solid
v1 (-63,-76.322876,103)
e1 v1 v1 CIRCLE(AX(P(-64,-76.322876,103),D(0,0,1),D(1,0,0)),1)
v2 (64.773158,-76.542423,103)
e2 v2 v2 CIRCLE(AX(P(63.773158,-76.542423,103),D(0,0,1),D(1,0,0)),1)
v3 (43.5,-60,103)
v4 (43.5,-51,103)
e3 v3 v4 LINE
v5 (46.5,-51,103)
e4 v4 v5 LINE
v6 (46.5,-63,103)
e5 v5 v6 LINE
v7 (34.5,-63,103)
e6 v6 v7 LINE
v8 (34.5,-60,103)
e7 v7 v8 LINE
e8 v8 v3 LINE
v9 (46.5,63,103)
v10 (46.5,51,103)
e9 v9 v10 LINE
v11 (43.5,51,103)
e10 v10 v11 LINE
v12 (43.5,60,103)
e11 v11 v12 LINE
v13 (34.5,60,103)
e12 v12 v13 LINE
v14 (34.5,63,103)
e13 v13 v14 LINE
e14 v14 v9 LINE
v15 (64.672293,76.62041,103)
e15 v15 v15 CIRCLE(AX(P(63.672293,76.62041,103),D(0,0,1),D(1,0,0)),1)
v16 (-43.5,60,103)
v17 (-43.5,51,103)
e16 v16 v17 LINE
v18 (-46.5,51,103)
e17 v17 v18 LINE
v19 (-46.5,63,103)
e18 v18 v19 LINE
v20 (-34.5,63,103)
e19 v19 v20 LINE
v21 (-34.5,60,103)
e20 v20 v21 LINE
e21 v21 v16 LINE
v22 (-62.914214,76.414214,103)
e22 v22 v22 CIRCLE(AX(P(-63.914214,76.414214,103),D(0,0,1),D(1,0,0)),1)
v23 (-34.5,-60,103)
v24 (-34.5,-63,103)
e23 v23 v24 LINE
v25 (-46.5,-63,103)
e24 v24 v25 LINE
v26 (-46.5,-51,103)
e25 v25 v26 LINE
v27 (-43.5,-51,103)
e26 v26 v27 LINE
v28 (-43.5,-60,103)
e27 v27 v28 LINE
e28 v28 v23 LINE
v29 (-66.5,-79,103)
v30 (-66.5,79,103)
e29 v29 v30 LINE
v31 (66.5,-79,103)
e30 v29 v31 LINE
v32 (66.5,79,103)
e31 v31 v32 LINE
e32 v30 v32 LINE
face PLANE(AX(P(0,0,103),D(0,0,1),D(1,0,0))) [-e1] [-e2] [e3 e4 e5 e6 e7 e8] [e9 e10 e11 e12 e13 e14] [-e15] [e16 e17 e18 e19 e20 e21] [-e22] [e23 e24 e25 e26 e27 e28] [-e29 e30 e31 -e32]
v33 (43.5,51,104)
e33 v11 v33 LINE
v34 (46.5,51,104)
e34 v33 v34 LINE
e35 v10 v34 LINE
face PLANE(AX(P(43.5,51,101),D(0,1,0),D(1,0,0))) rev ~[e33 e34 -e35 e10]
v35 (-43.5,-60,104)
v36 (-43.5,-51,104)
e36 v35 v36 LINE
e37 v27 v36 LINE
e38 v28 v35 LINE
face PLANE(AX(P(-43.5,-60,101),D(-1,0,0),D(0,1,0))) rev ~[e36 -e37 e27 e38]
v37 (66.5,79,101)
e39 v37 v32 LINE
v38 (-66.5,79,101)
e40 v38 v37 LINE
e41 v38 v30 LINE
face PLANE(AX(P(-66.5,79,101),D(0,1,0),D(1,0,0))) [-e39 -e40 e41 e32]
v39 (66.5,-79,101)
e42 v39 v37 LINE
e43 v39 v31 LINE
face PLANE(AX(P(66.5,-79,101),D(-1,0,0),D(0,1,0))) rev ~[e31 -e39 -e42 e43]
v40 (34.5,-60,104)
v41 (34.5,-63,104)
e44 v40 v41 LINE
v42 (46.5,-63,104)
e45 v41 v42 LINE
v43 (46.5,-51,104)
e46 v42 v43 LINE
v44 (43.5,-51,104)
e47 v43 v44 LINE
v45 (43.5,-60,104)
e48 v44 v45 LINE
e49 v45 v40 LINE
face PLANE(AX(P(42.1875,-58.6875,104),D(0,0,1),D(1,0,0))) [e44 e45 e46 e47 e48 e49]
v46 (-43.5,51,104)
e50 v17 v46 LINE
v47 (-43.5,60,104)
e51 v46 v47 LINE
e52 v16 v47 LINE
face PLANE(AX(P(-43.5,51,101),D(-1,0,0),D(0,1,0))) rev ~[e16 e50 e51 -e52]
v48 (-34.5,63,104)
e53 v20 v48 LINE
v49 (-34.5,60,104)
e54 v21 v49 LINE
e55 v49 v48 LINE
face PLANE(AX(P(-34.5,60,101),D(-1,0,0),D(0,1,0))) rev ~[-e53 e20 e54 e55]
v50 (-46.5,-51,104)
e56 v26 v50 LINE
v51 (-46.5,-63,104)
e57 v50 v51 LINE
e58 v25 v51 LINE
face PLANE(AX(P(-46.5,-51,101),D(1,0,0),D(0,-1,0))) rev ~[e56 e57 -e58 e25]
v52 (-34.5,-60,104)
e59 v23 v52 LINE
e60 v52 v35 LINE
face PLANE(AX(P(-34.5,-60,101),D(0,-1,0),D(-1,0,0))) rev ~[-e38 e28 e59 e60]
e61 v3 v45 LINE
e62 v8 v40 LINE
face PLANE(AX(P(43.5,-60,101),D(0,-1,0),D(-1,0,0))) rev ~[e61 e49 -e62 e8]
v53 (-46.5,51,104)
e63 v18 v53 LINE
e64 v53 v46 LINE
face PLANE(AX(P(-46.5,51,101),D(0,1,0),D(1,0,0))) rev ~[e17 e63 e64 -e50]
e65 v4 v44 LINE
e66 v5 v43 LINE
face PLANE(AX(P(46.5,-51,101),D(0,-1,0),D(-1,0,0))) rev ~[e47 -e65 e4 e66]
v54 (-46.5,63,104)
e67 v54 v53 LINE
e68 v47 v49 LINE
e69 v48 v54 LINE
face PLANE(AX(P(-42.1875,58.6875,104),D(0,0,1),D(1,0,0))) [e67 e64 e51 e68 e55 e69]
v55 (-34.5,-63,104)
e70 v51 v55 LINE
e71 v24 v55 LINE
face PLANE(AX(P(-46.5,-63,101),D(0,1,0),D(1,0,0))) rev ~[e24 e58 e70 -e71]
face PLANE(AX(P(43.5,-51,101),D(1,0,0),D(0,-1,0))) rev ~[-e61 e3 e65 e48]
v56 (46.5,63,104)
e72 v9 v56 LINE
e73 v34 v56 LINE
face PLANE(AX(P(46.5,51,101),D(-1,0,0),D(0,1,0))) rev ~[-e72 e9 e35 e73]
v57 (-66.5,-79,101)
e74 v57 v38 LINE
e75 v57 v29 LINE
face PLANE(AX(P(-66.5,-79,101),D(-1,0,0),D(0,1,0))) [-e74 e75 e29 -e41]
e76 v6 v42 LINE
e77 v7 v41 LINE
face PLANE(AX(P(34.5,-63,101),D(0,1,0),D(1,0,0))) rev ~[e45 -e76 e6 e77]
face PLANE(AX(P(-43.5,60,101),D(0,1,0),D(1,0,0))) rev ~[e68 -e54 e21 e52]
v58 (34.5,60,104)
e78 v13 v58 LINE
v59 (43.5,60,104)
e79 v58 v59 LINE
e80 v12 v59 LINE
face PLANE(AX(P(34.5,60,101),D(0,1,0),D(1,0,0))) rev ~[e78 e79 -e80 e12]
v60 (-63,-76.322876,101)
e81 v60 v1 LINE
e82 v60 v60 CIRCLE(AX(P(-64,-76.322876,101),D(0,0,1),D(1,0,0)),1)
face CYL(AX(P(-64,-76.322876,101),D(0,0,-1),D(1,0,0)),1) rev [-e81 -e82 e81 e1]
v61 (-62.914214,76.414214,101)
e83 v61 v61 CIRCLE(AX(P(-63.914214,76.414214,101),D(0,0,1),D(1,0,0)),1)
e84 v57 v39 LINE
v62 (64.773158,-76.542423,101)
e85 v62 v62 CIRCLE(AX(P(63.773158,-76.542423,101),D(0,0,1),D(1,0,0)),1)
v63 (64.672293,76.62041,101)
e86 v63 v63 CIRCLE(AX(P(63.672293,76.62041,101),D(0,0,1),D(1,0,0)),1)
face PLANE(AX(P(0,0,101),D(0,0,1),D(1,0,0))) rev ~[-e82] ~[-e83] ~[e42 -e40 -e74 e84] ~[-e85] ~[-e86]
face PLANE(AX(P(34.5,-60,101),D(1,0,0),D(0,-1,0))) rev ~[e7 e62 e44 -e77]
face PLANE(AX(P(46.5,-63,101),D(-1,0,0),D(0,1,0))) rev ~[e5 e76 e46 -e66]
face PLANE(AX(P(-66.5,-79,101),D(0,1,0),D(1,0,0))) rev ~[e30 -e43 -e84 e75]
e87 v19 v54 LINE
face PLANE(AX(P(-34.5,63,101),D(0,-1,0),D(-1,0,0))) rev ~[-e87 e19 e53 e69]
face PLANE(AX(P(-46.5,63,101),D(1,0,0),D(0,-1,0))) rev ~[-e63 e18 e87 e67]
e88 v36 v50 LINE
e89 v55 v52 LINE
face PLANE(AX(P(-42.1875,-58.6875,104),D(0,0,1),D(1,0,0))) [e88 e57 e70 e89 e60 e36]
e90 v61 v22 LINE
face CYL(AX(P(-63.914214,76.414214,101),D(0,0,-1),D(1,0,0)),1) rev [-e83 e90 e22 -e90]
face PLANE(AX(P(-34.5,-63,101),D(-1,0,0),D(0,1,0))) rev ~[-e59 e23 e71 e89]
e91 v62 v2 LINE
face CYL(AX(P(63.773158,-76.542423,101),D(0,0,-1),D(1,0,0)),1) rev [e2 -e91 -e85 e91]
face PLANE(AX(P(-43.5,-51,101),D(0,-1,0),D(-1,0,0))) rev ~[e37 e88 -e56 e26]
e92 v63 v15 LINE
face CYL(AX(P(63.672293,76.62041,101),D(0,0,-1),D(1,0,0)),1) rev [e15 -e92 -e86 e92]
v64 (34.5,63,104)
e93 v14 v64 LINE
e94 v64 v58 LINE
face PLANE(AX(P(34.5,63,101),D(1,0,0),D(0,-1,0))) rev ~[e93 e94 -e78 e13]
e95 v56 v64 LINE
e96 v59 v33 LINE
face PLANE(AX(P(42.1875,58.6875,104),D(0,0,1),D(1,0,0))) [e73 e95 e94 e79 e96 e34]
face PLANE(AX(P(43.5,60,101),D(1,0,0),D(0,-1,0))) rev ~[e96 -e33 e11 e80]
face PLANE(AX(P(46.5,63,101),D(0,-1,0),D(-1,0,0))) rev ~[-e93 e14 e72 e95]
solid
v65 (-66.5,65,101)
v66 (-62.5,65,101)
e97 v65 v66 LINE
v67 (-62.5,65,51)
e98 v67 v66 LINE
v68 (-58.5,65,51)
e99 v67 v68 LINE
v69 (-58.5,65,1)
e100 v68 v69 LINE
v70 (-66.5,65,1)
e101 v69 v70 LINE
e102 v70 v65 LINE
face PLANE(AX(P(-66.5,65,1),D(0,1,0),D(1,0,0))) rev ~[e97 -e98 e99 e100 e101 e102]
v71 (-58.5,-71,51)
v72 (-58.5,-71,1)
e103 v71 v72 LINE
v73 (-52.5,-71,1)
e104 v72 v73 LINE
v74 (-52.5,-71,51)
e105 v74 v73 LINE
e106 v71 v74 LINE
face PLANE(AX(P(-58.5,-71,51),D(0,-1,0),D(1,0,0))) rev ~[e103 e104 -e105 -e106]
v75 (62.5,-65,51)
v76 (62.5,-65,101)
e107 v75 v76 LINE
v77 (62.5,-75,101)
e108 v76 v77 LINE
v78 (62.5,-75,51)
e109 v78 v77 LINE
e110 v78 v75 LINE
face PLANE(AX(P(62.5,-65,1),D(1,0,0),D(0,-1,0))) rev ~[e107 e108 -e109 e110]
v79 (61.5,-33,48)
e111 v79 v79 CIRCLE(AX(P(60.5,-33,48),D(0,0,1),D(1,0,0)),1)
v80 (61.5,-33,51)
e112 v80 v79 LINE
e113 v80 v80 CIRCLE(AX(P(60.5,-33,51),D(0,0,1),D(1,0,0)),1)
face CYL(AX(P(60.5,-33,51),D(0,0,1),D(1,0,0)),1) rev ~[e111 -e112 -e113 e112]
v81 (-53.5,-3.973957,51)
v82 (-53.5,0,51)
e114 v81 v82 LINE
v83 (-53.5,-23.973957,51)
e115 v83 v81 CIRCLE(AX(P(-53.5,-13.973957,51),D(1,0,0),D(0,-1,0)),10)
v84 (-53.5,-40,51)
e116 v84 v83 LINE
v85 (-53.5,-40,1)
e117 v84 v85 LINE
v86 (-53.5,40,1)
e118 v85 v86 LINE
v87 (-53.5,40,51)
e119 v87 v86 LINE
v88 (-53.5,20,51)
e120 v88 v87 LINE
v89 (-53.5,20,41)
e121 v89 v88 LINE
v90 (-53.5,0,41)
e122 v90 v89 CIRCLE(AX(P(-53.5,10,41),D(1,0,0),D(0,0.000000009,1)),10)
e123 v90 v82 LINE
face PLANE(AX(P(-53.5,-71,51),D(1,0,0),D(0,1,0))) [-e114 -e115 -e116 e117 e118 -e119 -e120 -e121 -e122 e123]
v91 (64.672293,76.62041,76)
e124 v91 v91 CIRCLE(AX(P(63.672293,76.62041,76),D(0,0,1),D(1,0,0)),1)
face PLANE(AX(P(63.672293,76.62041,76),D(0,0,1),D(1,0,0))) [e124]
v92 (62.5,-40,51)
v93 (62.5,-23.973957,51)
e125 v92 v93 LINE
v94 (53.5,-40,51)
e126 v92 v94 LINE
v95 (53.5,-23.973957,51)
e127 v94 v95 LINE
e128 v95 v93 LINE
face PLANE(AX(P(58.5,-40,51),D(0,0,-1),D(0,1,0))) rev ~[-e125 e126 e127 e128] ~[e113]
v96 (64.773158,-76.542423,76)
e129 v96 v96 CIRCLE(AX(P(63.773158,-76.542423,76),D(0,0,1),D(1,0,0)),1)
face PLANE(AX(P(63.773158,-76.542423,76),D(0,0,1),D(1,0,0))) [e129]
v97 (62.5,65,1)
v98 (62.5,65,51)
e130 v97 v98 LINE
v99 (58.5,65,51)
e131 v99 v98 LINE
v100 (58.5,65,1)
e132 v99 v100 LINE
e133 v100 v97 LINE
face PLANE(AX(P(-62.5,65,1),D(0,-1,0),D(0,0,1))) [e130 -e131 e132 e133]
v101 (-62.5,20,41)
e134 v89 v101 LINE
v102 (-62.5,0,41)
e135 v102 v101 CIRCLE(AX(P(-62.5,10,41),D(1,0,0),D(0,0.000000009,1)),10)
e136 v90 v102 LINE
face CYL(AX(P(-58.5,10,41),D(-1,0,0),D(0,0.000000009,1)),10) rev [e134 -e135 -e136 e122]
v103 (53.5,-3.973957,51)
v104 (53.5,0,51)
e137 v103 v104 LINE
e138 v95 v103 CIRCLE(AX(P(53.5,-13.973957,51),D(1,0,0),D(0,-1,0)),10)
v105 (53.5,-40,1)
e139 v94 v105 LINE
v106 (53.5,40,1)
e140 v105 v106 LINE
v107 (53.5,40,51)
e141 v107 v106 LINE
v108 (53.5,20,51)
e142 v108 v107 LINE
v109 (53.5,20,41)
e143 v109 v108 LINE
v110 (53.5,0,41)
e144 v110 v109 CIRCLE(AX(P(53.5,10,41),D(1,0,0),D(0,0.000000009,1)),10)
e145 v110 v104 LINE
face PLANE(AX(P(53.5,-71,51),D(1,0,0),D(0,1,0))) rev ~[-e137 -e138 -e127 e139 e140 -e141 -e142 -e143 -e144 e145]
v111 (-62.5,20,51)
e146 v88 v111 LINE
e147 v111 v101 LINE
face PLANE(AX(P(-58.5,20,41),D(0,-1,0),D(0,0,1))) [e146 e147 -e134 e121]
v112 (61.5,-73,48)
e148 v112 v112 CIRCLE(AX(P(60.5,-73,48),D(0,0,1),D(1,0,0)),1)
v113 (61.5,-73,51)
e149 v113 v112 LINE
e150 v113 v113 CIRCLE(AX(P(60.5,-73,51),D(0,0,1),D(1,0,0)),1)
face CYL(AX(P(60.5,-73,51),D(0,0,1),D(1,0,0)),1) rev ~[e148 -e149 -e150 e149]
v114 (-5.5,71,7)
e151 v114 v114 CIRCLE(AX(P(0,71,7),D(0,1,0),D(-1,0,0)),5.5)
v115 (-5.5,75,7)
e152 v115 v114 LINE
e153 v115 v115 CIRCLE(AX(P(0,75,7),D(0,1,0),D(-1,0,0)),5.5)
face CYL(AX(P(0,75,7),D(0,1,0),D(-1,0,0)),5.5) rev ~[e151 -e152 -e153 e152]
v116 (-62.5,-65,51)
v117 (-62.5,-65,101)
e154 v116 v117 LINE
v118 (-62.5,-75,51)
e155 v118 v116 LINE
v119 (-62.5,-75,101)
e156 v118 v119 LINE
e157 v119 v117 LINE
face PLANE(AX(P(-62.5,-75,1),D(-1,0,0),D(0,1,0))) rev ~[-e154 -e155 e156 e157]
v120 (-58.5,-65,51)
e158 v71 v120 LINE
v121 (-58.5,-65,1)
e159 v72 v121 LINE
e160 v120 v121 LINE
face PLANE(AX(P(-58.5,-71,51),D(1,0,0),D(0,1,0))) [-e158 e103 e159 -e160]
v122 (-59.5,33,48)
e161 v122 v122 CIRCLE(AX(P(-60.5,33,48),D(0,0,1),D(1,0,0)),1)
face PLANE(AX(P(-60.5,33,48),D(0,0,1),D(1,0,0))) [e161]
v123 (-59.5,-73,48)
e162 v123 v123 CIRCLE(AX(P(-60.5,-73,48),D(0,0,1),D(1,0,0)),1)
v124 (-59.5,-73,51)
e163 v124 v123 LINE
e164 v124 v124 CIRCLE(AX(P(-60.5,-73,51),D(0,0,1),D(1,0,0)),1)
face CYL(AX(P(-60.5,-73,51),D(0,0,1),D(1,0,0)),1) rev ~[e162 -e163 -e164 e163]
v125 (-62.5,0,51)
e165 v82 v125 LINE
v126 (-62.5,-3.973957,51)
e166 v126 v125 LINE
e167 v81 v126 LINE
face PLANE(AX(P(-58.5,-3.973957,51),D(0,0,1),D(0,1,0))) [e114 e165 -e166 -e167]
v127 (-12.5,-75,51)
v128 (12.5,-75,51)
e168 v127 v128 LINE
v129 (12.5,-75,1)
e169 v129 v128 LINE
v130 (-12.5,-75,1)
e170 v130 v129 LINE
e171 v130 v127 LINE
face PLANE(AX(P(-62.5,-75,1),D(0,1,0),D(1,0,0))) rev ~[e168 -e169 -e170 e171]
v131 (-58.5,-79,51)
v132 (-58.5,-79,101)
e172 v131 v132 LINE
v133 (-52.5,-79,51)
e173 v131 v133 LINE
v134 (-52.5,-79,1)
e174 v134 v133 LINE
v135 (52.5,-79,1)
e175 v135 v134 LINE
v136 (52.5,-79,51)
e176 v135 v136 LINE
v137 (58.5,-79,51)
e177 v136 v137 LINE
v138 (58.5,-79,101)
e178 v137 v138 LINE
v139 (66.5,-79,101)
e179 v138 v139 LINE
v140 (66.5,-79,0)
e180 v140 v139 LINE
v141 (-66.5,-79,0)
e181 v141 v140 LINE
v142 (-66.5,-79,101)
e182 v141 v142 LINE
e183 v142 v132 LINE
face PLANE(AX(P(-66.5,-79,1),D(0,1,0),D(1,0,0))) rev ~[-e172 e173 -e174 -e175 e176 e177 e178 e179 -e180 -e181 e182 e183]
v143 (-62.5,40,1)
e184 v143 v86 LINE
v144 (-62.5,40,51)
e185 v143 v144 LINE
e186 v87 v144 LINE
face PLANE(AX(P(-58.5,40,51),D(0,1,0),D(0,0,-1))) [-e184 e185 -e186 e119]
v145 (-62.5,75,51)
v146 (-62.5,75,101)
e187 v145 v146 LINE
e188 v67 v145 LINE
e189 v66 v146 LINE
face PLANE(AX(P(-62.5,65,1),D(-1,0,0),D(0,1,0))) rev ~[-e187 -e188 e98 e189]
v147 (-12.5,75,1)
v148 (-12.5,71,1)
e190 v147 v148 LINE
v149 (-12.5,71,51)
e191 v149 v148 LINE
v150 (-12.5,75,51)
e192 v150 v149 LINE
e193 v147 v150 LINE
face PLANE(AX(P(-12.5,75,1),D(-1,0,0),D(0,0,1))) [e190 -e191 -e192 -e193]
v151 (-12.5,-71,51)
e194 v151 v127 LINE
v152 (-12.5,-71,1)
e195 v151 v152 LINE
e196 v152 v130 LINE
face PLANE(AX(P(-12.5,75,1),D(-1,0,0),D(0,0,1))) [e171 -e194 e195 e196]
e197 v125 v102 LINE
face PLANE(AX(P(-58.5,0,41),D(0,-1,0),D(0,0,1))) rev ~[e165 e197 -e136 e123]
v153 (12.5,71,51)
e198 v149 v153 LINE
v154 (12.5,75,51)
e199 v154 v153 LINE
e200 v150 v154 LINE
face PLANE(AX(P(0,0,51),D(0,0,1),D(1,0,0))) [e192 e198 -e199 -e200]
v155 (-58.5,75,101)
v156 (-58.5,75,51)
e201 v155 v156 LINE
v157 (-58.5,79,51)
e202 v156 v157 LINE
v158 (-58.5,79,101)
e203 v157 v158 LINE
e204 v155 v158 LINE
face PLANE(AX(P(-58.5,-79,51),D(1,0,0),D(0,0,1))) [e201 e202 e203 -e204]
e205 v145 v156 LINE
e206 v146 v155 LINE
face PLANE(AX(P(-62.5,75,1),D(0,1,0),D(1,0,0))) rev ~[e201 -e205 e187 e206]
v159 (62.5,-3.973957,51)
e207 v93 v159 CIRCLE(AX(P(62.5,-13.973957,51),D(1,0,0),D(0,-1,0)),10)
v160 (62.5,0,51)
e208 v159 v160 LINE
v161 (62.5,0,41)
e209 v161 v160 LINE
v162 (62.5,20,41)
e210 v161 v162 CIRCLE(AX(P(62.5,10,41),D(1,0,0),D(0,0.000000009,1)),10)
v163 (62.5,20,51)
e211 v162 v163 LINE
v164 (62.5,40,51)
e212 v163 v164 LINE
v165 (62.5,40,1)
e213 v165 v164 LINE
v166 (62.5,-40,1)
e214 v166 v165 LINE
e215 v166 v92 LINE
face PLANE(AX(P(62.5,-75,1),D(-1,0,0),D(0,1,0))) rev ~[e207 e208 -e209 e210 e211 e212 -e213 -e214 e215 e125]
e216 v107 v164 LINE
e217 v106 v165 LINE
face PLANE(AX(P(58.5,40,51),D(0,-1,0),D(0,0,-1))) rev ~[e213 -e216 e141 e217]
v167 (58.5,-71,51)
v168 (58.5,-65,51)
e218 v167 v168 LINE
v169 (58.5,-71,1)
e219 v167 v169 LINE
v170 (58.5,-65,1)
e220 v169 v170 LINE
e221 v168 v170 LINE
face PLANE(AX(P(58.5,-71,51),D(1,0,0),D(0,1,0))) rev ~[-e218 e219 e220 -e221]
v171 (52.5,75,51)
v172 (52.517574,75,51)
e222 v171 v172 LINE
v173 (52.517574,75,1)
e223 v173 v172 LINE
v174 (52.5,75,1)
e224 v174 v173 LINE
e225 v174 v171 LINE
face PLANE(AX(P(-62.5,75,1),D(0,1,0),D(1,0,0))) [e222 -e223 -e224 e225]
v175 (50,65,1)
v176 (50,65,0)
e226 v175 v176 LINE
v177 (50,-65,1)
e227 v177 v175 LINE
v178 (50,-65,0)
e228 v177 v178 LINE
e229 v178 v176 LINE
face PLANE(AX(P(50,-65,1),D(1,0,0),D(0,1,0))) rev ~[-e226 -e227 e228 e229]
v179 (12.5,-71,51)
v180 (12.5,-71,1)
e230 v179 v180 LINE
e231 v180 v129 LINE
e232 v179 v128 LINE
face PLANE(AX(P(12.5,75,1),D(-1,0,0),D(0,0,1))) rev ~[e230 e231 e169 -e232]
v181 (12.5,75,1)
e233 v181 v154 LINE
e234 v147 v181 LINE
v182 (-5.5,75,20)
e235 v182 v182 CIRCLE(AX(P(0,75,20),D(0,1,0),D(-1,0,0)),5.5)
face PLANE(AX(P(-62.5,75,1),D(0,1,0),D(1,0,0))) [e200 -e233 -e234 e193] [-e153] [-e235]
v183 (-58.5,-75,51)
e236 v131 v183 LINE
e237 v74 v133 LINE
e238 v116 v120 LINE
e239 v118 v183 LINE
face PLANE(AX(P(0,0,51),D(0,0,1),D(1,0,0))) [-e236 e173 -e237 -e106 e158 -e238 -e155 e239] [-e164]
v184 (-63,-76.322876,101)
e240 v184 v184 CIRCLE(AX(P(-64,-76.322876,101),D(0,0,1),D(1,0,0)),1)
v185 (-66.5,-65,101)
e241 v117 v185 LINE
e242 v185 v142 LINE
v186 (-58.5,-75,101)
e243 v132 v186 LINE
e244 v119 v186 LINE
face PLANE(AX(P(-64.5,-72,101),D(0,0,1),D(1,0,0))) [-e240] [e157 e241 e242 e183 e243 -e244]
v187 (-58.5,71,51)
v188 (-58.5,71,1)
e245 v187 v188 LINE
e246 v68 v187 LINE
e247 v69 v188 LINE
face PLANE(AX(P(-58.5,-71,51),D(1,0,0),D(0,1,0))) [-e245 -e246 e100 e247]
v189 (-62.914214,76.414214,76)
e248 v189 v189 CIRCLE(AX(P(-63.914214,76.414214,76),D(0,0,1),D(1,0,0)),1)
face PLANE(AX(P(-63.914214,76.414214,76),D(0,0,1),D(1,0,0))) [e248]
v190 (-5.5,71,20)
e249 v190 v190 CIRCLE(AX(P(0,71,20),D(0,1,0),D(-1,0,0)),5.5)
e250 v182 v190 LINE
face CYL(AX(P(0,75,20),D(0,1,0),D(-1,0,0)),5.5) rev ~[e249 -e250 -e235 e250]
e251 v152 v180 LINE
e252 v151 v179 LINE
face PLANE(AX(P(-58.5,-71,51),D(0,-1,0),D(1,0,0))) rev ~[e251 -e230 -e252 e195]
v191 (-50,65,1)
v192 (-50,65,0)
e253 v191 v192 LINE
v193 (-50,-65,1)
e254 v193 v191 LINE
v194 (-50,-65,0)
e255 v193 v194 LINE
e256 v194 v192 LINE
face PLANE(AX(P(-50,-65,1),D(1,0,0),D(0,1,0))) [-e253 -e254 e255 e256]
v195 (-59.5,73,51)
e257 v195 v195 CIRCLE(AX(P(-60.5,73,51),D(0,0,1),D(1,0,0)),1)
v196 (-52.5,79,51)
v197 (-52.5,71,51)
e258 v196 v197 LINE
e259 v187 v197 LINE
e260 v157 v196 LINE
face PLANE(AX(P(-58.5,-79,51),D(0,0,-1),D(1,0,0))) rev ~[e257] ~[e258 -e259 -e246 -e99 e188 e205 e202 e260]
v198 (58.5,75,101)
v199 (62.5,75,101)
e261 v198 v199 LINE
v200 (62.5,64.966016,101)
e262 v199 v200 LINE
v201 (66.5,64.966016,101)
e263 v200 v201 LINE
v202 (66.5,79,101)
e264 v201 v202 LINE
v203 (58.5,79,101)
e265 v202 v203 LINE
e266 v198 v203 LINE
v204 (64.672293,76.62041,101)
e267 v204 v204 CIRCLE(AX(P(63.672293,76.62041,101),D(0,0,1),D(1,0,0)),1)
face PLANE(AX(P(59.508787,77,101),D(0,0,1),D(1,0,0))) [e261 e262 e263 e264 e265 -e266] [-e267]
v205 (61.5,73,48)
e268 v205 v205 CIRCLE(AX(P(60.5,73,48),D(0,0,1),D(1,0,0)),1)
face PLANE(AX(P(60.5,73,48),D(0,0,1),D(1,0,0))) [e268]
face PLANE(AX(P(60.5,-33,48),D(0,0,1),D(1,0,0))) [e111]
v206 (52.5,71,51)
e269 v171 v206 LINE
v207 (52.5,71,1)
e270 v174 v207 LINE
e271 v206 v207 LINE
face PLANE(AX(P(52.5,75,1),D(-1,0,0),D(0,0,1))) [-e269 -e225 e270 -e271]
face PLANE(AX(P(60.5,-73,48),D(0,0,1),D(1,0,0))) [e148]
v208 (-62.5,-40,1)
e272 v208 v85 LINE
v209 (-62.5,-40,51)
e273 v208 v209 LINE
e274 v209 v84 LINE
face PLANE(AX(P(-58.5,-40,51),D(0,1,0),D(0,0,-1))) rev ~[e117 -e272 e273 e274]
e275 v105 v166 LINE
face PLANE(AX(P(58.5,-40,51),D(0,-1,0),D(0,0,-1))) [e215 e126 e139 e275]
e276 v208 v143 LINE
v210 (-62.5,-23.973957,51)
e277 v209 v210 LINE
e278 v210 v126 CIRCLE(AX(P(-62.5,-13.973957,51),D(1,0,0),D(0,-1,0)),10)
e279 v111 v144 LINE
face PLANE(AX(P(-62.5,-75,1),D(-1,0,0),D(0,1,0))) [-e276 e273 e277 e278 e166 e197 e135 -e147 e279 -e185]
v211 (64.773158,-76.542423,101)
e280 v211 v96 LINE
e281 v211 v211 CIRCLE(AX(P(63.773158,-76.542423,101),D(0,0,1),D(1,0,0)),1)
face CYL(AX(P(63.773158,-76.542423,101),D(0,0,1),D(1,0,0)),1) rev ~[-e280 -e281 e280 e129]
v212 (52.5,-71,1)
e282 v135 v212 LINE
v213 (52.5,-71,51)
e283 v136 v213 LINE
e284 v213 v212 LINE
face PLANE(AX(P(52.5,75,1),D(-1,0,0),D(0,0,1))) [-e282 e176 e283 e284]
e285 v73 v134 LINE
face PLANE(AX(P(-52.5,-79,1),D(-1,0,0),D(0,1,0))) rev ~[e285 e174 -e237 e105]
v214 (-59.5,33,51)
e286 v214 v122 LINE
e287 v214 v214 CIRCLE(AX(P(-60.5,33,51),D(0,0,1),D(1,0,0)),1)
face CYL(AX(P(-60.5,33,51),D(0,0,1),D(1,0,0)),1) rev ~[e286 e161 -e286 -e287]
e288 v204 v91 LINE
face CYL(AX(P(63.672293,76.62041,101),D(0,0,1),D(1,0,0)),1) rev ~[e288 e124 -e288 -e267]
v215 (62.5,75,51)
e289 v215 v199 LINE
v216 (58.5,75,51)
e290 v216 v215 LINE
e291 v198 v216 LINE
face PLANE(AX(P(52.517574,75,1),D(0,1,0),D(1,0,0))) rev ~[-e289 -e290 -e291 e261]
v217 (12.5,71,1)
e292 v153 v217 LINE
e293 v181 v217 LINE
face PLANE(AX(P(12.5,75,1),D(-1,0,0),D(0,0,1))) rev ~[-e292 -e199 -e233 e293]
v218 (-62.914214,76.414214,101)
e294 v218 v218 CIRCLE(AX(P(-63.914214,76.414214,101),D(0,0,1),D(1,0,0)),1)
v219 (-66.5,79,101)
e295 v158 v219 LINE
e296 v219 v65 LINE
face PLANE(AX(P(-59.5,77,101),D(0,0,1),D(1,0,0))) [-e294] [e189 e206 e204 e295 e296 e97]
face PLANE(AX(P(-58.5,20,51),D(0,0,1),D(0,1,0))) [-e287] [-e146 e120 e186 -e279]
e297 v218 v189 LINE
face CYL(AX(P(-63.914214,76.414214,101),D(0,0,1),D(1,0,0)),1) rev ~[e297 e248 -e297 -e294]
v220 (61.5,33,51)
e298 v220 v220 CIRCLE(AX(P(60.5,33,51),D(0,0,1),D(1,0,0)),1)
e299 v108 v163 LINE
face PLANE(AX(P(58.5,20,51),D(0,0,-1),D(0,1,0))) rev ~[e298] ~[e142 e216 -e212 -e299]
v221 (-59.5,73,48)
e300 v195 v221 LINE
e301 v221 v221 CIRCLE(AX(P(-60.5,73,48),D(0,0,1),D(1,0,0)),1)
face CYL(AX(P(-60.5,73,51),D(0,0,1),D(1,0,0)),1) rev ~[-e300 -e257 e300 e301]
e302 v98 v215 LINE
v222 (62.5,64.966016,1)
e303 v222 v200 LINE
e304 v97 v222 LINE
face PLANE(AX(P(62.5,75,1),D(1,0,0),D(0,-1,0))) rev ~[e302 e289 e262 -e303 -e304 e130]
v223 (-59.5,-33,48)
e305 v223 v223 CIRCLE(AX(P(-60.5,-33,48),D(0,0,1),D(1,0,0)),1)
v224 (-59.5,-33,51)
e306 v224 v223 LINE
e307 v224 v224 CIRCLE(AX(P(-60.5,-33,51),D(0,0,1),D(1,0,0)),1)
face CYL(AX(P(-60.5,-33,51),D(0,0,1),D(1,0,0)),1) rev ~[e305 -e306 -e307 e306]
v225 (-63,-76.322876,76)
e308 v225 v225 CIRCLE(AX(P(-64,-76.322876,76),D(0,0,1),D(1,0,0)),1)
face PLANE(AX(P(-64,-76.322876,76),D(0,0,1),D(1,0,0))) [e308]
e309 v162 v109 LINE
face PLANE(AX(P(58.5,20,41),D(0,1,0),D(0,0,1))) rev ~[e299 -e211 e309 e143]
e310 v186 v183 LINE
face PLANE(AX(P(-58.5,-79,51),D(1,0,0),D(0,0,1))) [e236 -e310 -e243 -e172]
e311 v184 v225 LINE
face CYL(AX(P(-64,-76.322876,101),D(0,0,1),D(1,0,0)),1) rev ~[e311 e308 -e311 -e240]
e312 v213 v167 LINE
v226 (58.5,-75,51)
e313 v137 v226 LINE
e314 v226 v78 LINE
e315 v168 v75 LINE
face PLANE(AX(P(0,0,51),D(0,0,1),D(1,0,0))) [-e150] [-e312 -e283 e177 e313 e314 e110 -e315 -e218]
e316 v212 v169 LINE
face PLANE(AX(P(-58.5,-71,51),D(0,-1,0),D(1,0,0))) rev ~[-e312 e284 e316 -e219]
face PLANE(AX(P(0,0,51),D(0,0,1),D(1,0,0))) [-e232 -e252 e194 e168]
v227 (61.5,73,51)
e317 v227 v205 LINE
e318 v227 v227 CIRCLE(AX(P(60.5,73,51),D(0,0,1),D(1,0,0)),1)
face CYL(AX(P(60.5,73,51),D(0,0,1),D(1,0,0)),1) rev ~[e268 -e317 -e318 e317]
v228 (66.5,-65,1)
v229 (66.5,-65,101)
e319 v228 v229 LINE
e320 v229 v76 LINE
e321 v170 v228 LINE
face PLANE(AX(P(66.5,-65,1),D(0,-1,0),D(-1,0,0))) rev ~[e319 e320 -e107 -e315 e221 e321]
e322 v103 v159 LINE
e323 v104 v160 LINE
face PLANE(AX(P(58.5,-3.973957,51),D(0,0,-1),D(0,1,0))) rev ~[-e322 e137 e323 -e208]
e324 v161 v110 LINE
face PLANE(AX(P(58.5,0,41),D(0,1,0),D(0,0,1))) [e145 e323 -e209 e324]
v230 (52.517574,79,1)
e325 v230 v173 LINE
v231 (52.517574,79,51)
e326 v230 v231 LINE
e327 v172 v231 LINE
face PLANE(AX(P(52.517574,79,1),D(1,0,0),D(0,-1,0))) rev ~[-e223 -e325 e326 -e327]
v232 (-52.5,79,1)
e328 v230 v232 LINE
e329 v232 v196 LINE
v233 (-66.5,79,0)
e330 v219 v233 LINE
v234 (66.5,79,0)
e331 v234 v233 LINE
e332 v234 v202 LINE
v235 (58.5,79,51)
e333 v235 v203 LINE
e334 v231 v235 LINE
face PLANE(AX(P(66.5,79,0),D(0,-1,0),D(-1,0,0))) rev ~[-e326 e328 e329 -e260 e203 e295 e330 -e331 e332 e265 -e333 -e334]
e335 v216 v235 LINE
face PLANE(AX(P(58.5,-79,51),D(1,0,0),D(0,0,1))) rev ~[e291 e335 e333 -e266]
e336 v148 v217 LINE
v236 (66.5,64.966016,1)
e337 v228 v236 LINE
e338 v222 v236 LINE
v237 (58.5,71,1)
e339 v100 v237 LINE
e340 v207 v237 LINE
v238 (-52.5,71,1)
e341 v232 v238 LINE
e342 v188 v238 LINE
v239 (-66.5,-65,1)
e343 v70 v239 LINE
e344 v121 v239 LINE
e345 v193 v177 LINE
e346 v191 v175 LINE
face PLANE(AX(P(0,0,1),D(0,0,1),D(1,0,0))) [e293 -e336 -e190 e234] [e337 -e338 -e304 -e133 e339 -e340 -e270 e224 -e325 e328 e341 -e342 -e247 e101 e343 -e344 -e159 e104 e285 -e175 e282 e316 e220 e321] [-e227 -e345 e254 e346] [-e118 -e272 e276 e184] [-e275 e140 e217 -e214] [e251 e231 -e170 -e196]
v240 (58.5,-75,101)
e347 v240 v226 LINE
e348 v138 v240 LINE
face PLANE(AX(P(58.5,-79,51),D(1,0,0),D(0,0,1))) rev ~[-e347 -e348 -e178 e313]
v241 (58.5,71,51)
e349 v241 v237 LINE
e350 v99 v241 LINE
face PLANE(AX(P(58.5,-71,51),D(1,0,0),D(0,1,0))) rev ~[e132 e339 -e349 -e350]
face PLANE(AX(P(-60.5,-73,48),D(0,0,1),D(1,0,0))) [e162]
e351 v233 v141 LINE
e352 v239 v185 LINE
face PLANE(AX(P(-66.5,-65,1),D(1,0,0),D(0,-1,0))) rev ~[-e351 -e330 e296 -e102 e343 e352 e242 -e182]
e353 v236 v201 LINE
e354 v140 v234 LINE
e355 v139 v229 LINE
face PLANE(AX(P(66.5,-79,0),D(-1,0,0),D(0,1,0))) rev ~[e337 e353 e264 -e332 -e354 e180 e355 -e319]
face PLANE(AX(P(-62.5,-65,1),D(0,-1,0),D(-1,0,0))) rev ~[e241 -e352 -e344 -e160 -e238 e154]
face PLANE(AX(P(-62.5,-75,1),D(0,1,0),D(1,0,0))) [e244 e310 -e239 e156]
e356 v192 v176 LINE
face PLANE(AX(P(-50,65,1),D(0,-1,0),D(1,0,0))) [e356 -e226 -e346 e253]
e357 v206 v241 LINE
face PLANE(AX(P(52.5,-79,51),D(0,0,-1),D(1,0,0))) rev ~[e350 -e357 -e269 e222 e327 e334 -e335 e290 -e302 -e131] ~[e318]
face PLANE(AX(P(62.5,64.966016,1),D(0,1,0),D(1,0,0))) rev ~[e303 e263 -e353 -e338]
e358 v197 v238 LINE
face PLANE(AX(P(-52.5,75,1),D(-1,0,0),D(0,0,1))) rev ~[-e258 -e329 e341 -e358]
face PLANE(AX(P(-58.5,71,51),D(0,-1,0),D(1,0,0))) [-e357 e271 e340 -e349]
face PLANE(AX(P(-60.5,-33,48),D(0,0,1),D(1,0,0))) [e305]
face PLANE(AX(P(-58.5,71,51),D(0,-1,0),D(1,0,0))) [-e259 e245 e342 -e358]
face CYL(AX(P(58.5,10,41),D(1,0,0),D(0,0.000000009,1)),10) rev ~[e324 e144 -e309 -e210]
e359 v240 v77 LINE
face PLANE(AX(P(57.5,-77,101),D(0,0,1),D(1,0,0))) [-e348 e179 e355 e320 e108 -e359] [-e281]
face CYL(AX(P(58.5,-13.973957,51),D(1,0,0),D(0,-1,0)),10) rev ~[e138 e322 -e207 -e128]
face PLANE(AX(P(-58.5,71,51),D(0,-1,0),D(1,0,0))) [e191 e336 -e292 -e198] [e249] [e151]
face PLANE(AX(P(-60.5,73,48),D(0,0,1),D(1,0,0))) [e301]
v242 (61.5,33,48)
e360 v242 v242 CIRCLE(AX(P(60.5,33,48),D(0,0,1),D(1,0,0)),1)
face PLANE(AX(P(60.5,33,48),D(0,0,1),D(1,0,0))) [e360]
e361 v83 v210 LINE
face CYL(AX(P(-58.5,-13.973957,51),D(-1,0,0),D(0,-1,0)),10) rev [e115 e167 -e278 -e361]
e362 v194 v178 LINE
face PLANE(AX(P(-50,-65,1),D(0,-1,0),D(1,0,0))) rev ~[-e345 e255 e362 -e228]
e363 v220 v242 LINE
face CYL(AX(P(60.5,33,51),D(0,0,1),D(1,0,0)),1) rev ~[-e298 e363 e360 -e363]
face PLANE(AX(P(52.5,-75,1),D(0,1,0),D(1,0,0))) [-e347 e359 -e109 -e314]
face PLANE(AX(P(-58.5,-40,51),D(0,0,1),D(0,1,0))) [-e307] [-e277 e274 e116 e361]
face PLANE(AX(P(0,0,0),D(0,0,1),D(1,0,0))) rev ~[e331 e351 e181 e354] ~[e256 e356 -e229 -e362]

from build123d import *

# Parameters (mm, degrees)
F1_DEPTH  = 1
F2_W      = 125
F2_H      = 150
F3_DEPTH  = 50
F4_W      = 117
F4_H      = 142
F5_DEPTH  = 50
F6_R      = 1
F7_DEPTH  = 3
F8_W      = 20
F8_H      = 10
F10_DEPTH = 129.001
F11_DEPTH = 129.001
F13_DEPTH = 129.001
F14_R     = 5.5
F15_DEPTH = 4
F16_W     = 40
F16_H     = 50
F17_DEPTH = 154.001
F18_W     = 25
F18_H     = 50
F19_DEPTH = 129.001
F20_W     = 10
F20_H     = 4
F20_W_2   = 4
F20_H_2   = 10
F21_DEPTH = 100
F22_R     = 1
F23_DEPTH = 25
F24_DEPTH = 5
F25_DEPTH = 5
F26_W     = 100
F26_H     = 130
F27_DEPTH = 1.001
F28_W     = 6
F28_H     = 50
F29_DEPTH = 158.001
F31_W     = 133
F31_H     = 158
F31_R     = 1
F32_DEPTH = 2
F33_DEPTH = 3


with BuildPart() as f1:
    # F0 (on Top) → F1 (new body)
    with BuildSketch(Plane.XY):
        Polygon((-62.5, 79), (-66.5, 79), (-66.5, -79), (66.5, -79), (66.5, 79), align=None)
    extrude(amount=F1_DEPTH)

    # F2 (on face) → F3 (join)
    with BuildSketch(Plane.XY.offset(1)):
        Rectangle(F2_W, F2_H)
    extrude(amount=F3_DEPTH)

    # F4 (on face) → F5 (cut)
    with BuildSketch(Plane.XY.offset(51)):
        Rectangle(F4_W, F4_H)
    extrude(amount=-F5_DEPTH, mode=Mode.SUBTRACT)

    # F6 (on face) → F7 (cut)
    with BuildSketch(Plane.XY.offset(51)):
        with Locations((-60.5, 73)):
            Circle(F6_R)
        with Locations((60.5, 73)):
            Circle(F6_R)
        with Locations((60.5, 33)):
            Circle(F6_R)
        with Locations((60.5, -33)):
            Circle(F6_R)
        with Locations((60.5, -73)):
            Circle(F6_R)
        with Locations((-60.5, -73)):
            Circle(F6_R)
        with Locations((-60.5, -33)):
            Circle(F6_R)
        with Locations((-60.5, 33)):
            Circle(F6_R)
    extrude(amount=-F7_DEPTH, mode=Mode.SUBTRACT)

    # F8 (on face) → F10 (cut, through all)
    with BuildSketch(Plane.YZ.offset(62.5)):
        with Locations((10, 46)):
            Rectangle(F8_W, F8_H)
    extrude(amount=-F10_DEPTH, mode=Mode.SUBTRACT)

    # F9 (on face) → F11 (cut, through all)
    with BuildSketch(Plane.YZ.offset(62.5)):
        with BuildLine():
            ThreePointArc((10.0000000862, 51), (2.9289321577, 33.9289322186), (20, 41))
            ThreePointArc((20, 41), (17.0710678423, 48.0710677814), (10.0000000862, 51))
        make_face()
    extrude(amount=-F11_DEPTH, mode=Mode.SUBTRACT)

    # F12 (on face) → F13 (cut, through all)
    with BuildSketch(Plane.YZ.offset(62.5)):
        with BuildLine():
            ThreePointArc((-23.9739569277, 51), (-13.9739569277, 41), (-3.9739569277, 51))
            Line((-3.9739569277, 51), (-23.9739569277, 51))
        make_face()
    extrude(amount=-F13_DEPTH, mode=Mode.SUBTRACT)

    # F14 (on face) → F15 (cut)
    with BuildSketch(Plane(origin=(0, 75, 0), x_dir=(-1, 0, 0), z_dir=(0, 1, 0))):
        with Locations((0, 20)):
            Circle(F14_R)
        with Locations((0, 7)):
            Circle(F14_R)
    extrude(amount=-F15_DEPTH, mode=Mode.SUBTRACT)

    # F16 (on face) → F17 (cut, through all)
    with BuildSketch(Plane(origin=(0, 75, 0), x_dir=(-1, 0, 0), z_dir=(0, 1, 0))):
        with Locations((-32.5, 26)):
            Rectangle(F16_W, F16_H)
        with Locations((32.5, 26)):
            Rectangle(F16_W, F16_H)
    extrude(amount=-F17_DEPTH, mode=Mode.SUBTRACT)

    # F18 (on face) → F19 (cut, through all)
    with BuildSketch(Plane(origin=(-62.5, 0, 0), x_dir=(0, -1, 0), z_dir=(-1, 0, 0))):
        with Locations((-52.5, 26)):
            Rectangle(F18_W, F18_H)
        with Locations((52.5, 26)):
            Rectangle(F18_W, F18_H)
    extrude(amount=-F19_DEPTH, mode=Mode.SUBTRACT)

    # F20 (on face) → F21 (join)
    with BuildSketch(Plane.XY.offset(1)):
        Polygon((-62.5, -65), (-66.5, -65), (-66.5, -79), (-62.5, -79), (-62.5, -75), align=None)
        with Locations((-57.5, -77)):
            Rectangle(F20_W, F20_H)
        with Locations((57.5, -77)):
            Rectangle(F20_W, F20_H)
        Polygon((66.5, -79), (66.5, -65), (62.5, -65), (62.5, -75), (62.5, -79), align=None)
        Polygon((-52.5, 79), (-66.5, 79), (-66.5, 75), (-62.5, 75), (-52.5, 75), align=None)
        with Locations((-64.5, 70)):
            Rectangle(F20_W_2, F20_H_2)
        Polygon((66.5, 79), (52.5175742805, 79), (52.5175742805, 75), (62.5, 75), (66.5, 75), align=None)
        Polygon((66.5, 64.9660155177), (66.5, 75), (62.5, 75), (62.5, 65), (62.5, 64.9660155177), align=None)
    extrude(amount=F21_DEPTH)

    # F22 (on face) → F23 (cut)
    with BuildSketch(Plane.XY.offset(101)):
        with Locations((-63.9142135624, 76.4142135624)):
            Circle(F22_R)
        with Locations((63.6722929489, 76.6204102079)):
            Circle(F22_R)
        with Locations((63.7731581912, -76.5424228409)):
            Circle(F22_R)
        with Locations((-64, -76.3228756555)):
            Circle(F22_R)
    extrude(amount=-F23_DEPTH, mode=Mode.SUBTRACT)

    # F24 (add): a face of the model
    f24_faces = [f1.faces().sort_by_distance(p)[0] for p in [
        (58.5, -0.3946744588, 23.4325126547),
    ]]
    extrude(f24_faces, amount=F24_DEPTH)

    # F25 (add): a face of the model
    f25_faces = [f1.faces().sort_by_distance(p)[0] for p in [
        (-58.5, -0.3946744588, 23.4325126547),
    ]]
    extrude(f25_faces, amount=F25_DEPTH)

    # F26 (on face) → F27 (cut, through all)
    with BuildSketch(Plane.XY.offset(1)):
        Rectangle(F26_W, F26_H)
    extrude(amount=-F27_DEPTH, mode=Mode.SUBTRACT)

    # F28 (on face) → F29 (cut, through all)
    with BuildSketch(Plane.XZ.offset(79)):
        with Locations((-55.5, 76)):
            Rectangle(F28_W, F28_H)
        with Locations((55.5, 76)):
            Rectangle(F28_W, F28_H)
    extrude(amount=-F29_DEPTH, mode=Mode.SUBTRACT)


with BuildPart() as f32:
    # F31 (on offset) → F32 (new body)
    with BuildSketch(Plane.XY.offset(101)):
        Rectangle(F31_W, F31_H)
        with Locations((-64, -76.3228756555)):
            Circle(F31_R, mode=Mode.SUBTRACT)
        Polygon((-34.5, -60), (-34.5, -63), (-46.5, -63), (-46.5, -51), (-43.5, -51), (-43.5, -60), align=None, mode=Mode.SUBTRACT)
        with Locations((63.7731581912, -76.5424228409)):
            Circle(F31_R, mode=Mode.SUBTRACT)
        Polygon((43.5, -60), (43.5, -51), (46.5, -51), (46.5, -63), (34.5, -63), (34.5, -60), align=None, mode=Mode.SUBTRACT)
        Polygon((-43.5, 60), (-43.5, 51), (-46.5, 51), (-46.5, 63), (-34.5, 63), (-34.5, 60), align=None, mode=Mode.SUBTRACT)
        with Locations((-63.9142135624, 76.4142135624)):
            Circle(F31_R, mode=Mode.SUBTRACT)
        Polygon((34.5, 63), (46.5, 63), (46.5, 51), (43.5, 51), (43.5, 60), (34.5, 60), align=None, mode=Mode.SUBTRACT)
        with Locations((63.6722929489, 76.6204102079)):
            Circle(F31_R, mode=Mode.SUBTRACT)
    extrude(amount=F32_DEPTH)

    # F31 (on offset) → F33 (join)
    with BuildSketch(Plane.XY.offset(101)):
        Polygon((-46.5, 51), (-43.5, 51), (-43.5, 60), (-34.5, 60), (-34.5, 63), (-46.5, 63), align=None)
        Polygon((46.5, 51), (46.5, 63), (34.5, 63), (34.5, 60), (43.5, 60), (43.5, 51), align=None)
        Polygon((-46.5, -63), (-34.5, -63), (-34.5, -60), (-43.5, -60), (-43.5, -51), (-46.5, -51), align=None)
        Polygon((46.5, -51), (43.5, -51), (43.5, -60), (34.5, -60), (34.5, -63), (46.5, -63), align=None)
    extrude(amount=F33_DEPTH)


solid = Compound([f1.part, f32.part])
